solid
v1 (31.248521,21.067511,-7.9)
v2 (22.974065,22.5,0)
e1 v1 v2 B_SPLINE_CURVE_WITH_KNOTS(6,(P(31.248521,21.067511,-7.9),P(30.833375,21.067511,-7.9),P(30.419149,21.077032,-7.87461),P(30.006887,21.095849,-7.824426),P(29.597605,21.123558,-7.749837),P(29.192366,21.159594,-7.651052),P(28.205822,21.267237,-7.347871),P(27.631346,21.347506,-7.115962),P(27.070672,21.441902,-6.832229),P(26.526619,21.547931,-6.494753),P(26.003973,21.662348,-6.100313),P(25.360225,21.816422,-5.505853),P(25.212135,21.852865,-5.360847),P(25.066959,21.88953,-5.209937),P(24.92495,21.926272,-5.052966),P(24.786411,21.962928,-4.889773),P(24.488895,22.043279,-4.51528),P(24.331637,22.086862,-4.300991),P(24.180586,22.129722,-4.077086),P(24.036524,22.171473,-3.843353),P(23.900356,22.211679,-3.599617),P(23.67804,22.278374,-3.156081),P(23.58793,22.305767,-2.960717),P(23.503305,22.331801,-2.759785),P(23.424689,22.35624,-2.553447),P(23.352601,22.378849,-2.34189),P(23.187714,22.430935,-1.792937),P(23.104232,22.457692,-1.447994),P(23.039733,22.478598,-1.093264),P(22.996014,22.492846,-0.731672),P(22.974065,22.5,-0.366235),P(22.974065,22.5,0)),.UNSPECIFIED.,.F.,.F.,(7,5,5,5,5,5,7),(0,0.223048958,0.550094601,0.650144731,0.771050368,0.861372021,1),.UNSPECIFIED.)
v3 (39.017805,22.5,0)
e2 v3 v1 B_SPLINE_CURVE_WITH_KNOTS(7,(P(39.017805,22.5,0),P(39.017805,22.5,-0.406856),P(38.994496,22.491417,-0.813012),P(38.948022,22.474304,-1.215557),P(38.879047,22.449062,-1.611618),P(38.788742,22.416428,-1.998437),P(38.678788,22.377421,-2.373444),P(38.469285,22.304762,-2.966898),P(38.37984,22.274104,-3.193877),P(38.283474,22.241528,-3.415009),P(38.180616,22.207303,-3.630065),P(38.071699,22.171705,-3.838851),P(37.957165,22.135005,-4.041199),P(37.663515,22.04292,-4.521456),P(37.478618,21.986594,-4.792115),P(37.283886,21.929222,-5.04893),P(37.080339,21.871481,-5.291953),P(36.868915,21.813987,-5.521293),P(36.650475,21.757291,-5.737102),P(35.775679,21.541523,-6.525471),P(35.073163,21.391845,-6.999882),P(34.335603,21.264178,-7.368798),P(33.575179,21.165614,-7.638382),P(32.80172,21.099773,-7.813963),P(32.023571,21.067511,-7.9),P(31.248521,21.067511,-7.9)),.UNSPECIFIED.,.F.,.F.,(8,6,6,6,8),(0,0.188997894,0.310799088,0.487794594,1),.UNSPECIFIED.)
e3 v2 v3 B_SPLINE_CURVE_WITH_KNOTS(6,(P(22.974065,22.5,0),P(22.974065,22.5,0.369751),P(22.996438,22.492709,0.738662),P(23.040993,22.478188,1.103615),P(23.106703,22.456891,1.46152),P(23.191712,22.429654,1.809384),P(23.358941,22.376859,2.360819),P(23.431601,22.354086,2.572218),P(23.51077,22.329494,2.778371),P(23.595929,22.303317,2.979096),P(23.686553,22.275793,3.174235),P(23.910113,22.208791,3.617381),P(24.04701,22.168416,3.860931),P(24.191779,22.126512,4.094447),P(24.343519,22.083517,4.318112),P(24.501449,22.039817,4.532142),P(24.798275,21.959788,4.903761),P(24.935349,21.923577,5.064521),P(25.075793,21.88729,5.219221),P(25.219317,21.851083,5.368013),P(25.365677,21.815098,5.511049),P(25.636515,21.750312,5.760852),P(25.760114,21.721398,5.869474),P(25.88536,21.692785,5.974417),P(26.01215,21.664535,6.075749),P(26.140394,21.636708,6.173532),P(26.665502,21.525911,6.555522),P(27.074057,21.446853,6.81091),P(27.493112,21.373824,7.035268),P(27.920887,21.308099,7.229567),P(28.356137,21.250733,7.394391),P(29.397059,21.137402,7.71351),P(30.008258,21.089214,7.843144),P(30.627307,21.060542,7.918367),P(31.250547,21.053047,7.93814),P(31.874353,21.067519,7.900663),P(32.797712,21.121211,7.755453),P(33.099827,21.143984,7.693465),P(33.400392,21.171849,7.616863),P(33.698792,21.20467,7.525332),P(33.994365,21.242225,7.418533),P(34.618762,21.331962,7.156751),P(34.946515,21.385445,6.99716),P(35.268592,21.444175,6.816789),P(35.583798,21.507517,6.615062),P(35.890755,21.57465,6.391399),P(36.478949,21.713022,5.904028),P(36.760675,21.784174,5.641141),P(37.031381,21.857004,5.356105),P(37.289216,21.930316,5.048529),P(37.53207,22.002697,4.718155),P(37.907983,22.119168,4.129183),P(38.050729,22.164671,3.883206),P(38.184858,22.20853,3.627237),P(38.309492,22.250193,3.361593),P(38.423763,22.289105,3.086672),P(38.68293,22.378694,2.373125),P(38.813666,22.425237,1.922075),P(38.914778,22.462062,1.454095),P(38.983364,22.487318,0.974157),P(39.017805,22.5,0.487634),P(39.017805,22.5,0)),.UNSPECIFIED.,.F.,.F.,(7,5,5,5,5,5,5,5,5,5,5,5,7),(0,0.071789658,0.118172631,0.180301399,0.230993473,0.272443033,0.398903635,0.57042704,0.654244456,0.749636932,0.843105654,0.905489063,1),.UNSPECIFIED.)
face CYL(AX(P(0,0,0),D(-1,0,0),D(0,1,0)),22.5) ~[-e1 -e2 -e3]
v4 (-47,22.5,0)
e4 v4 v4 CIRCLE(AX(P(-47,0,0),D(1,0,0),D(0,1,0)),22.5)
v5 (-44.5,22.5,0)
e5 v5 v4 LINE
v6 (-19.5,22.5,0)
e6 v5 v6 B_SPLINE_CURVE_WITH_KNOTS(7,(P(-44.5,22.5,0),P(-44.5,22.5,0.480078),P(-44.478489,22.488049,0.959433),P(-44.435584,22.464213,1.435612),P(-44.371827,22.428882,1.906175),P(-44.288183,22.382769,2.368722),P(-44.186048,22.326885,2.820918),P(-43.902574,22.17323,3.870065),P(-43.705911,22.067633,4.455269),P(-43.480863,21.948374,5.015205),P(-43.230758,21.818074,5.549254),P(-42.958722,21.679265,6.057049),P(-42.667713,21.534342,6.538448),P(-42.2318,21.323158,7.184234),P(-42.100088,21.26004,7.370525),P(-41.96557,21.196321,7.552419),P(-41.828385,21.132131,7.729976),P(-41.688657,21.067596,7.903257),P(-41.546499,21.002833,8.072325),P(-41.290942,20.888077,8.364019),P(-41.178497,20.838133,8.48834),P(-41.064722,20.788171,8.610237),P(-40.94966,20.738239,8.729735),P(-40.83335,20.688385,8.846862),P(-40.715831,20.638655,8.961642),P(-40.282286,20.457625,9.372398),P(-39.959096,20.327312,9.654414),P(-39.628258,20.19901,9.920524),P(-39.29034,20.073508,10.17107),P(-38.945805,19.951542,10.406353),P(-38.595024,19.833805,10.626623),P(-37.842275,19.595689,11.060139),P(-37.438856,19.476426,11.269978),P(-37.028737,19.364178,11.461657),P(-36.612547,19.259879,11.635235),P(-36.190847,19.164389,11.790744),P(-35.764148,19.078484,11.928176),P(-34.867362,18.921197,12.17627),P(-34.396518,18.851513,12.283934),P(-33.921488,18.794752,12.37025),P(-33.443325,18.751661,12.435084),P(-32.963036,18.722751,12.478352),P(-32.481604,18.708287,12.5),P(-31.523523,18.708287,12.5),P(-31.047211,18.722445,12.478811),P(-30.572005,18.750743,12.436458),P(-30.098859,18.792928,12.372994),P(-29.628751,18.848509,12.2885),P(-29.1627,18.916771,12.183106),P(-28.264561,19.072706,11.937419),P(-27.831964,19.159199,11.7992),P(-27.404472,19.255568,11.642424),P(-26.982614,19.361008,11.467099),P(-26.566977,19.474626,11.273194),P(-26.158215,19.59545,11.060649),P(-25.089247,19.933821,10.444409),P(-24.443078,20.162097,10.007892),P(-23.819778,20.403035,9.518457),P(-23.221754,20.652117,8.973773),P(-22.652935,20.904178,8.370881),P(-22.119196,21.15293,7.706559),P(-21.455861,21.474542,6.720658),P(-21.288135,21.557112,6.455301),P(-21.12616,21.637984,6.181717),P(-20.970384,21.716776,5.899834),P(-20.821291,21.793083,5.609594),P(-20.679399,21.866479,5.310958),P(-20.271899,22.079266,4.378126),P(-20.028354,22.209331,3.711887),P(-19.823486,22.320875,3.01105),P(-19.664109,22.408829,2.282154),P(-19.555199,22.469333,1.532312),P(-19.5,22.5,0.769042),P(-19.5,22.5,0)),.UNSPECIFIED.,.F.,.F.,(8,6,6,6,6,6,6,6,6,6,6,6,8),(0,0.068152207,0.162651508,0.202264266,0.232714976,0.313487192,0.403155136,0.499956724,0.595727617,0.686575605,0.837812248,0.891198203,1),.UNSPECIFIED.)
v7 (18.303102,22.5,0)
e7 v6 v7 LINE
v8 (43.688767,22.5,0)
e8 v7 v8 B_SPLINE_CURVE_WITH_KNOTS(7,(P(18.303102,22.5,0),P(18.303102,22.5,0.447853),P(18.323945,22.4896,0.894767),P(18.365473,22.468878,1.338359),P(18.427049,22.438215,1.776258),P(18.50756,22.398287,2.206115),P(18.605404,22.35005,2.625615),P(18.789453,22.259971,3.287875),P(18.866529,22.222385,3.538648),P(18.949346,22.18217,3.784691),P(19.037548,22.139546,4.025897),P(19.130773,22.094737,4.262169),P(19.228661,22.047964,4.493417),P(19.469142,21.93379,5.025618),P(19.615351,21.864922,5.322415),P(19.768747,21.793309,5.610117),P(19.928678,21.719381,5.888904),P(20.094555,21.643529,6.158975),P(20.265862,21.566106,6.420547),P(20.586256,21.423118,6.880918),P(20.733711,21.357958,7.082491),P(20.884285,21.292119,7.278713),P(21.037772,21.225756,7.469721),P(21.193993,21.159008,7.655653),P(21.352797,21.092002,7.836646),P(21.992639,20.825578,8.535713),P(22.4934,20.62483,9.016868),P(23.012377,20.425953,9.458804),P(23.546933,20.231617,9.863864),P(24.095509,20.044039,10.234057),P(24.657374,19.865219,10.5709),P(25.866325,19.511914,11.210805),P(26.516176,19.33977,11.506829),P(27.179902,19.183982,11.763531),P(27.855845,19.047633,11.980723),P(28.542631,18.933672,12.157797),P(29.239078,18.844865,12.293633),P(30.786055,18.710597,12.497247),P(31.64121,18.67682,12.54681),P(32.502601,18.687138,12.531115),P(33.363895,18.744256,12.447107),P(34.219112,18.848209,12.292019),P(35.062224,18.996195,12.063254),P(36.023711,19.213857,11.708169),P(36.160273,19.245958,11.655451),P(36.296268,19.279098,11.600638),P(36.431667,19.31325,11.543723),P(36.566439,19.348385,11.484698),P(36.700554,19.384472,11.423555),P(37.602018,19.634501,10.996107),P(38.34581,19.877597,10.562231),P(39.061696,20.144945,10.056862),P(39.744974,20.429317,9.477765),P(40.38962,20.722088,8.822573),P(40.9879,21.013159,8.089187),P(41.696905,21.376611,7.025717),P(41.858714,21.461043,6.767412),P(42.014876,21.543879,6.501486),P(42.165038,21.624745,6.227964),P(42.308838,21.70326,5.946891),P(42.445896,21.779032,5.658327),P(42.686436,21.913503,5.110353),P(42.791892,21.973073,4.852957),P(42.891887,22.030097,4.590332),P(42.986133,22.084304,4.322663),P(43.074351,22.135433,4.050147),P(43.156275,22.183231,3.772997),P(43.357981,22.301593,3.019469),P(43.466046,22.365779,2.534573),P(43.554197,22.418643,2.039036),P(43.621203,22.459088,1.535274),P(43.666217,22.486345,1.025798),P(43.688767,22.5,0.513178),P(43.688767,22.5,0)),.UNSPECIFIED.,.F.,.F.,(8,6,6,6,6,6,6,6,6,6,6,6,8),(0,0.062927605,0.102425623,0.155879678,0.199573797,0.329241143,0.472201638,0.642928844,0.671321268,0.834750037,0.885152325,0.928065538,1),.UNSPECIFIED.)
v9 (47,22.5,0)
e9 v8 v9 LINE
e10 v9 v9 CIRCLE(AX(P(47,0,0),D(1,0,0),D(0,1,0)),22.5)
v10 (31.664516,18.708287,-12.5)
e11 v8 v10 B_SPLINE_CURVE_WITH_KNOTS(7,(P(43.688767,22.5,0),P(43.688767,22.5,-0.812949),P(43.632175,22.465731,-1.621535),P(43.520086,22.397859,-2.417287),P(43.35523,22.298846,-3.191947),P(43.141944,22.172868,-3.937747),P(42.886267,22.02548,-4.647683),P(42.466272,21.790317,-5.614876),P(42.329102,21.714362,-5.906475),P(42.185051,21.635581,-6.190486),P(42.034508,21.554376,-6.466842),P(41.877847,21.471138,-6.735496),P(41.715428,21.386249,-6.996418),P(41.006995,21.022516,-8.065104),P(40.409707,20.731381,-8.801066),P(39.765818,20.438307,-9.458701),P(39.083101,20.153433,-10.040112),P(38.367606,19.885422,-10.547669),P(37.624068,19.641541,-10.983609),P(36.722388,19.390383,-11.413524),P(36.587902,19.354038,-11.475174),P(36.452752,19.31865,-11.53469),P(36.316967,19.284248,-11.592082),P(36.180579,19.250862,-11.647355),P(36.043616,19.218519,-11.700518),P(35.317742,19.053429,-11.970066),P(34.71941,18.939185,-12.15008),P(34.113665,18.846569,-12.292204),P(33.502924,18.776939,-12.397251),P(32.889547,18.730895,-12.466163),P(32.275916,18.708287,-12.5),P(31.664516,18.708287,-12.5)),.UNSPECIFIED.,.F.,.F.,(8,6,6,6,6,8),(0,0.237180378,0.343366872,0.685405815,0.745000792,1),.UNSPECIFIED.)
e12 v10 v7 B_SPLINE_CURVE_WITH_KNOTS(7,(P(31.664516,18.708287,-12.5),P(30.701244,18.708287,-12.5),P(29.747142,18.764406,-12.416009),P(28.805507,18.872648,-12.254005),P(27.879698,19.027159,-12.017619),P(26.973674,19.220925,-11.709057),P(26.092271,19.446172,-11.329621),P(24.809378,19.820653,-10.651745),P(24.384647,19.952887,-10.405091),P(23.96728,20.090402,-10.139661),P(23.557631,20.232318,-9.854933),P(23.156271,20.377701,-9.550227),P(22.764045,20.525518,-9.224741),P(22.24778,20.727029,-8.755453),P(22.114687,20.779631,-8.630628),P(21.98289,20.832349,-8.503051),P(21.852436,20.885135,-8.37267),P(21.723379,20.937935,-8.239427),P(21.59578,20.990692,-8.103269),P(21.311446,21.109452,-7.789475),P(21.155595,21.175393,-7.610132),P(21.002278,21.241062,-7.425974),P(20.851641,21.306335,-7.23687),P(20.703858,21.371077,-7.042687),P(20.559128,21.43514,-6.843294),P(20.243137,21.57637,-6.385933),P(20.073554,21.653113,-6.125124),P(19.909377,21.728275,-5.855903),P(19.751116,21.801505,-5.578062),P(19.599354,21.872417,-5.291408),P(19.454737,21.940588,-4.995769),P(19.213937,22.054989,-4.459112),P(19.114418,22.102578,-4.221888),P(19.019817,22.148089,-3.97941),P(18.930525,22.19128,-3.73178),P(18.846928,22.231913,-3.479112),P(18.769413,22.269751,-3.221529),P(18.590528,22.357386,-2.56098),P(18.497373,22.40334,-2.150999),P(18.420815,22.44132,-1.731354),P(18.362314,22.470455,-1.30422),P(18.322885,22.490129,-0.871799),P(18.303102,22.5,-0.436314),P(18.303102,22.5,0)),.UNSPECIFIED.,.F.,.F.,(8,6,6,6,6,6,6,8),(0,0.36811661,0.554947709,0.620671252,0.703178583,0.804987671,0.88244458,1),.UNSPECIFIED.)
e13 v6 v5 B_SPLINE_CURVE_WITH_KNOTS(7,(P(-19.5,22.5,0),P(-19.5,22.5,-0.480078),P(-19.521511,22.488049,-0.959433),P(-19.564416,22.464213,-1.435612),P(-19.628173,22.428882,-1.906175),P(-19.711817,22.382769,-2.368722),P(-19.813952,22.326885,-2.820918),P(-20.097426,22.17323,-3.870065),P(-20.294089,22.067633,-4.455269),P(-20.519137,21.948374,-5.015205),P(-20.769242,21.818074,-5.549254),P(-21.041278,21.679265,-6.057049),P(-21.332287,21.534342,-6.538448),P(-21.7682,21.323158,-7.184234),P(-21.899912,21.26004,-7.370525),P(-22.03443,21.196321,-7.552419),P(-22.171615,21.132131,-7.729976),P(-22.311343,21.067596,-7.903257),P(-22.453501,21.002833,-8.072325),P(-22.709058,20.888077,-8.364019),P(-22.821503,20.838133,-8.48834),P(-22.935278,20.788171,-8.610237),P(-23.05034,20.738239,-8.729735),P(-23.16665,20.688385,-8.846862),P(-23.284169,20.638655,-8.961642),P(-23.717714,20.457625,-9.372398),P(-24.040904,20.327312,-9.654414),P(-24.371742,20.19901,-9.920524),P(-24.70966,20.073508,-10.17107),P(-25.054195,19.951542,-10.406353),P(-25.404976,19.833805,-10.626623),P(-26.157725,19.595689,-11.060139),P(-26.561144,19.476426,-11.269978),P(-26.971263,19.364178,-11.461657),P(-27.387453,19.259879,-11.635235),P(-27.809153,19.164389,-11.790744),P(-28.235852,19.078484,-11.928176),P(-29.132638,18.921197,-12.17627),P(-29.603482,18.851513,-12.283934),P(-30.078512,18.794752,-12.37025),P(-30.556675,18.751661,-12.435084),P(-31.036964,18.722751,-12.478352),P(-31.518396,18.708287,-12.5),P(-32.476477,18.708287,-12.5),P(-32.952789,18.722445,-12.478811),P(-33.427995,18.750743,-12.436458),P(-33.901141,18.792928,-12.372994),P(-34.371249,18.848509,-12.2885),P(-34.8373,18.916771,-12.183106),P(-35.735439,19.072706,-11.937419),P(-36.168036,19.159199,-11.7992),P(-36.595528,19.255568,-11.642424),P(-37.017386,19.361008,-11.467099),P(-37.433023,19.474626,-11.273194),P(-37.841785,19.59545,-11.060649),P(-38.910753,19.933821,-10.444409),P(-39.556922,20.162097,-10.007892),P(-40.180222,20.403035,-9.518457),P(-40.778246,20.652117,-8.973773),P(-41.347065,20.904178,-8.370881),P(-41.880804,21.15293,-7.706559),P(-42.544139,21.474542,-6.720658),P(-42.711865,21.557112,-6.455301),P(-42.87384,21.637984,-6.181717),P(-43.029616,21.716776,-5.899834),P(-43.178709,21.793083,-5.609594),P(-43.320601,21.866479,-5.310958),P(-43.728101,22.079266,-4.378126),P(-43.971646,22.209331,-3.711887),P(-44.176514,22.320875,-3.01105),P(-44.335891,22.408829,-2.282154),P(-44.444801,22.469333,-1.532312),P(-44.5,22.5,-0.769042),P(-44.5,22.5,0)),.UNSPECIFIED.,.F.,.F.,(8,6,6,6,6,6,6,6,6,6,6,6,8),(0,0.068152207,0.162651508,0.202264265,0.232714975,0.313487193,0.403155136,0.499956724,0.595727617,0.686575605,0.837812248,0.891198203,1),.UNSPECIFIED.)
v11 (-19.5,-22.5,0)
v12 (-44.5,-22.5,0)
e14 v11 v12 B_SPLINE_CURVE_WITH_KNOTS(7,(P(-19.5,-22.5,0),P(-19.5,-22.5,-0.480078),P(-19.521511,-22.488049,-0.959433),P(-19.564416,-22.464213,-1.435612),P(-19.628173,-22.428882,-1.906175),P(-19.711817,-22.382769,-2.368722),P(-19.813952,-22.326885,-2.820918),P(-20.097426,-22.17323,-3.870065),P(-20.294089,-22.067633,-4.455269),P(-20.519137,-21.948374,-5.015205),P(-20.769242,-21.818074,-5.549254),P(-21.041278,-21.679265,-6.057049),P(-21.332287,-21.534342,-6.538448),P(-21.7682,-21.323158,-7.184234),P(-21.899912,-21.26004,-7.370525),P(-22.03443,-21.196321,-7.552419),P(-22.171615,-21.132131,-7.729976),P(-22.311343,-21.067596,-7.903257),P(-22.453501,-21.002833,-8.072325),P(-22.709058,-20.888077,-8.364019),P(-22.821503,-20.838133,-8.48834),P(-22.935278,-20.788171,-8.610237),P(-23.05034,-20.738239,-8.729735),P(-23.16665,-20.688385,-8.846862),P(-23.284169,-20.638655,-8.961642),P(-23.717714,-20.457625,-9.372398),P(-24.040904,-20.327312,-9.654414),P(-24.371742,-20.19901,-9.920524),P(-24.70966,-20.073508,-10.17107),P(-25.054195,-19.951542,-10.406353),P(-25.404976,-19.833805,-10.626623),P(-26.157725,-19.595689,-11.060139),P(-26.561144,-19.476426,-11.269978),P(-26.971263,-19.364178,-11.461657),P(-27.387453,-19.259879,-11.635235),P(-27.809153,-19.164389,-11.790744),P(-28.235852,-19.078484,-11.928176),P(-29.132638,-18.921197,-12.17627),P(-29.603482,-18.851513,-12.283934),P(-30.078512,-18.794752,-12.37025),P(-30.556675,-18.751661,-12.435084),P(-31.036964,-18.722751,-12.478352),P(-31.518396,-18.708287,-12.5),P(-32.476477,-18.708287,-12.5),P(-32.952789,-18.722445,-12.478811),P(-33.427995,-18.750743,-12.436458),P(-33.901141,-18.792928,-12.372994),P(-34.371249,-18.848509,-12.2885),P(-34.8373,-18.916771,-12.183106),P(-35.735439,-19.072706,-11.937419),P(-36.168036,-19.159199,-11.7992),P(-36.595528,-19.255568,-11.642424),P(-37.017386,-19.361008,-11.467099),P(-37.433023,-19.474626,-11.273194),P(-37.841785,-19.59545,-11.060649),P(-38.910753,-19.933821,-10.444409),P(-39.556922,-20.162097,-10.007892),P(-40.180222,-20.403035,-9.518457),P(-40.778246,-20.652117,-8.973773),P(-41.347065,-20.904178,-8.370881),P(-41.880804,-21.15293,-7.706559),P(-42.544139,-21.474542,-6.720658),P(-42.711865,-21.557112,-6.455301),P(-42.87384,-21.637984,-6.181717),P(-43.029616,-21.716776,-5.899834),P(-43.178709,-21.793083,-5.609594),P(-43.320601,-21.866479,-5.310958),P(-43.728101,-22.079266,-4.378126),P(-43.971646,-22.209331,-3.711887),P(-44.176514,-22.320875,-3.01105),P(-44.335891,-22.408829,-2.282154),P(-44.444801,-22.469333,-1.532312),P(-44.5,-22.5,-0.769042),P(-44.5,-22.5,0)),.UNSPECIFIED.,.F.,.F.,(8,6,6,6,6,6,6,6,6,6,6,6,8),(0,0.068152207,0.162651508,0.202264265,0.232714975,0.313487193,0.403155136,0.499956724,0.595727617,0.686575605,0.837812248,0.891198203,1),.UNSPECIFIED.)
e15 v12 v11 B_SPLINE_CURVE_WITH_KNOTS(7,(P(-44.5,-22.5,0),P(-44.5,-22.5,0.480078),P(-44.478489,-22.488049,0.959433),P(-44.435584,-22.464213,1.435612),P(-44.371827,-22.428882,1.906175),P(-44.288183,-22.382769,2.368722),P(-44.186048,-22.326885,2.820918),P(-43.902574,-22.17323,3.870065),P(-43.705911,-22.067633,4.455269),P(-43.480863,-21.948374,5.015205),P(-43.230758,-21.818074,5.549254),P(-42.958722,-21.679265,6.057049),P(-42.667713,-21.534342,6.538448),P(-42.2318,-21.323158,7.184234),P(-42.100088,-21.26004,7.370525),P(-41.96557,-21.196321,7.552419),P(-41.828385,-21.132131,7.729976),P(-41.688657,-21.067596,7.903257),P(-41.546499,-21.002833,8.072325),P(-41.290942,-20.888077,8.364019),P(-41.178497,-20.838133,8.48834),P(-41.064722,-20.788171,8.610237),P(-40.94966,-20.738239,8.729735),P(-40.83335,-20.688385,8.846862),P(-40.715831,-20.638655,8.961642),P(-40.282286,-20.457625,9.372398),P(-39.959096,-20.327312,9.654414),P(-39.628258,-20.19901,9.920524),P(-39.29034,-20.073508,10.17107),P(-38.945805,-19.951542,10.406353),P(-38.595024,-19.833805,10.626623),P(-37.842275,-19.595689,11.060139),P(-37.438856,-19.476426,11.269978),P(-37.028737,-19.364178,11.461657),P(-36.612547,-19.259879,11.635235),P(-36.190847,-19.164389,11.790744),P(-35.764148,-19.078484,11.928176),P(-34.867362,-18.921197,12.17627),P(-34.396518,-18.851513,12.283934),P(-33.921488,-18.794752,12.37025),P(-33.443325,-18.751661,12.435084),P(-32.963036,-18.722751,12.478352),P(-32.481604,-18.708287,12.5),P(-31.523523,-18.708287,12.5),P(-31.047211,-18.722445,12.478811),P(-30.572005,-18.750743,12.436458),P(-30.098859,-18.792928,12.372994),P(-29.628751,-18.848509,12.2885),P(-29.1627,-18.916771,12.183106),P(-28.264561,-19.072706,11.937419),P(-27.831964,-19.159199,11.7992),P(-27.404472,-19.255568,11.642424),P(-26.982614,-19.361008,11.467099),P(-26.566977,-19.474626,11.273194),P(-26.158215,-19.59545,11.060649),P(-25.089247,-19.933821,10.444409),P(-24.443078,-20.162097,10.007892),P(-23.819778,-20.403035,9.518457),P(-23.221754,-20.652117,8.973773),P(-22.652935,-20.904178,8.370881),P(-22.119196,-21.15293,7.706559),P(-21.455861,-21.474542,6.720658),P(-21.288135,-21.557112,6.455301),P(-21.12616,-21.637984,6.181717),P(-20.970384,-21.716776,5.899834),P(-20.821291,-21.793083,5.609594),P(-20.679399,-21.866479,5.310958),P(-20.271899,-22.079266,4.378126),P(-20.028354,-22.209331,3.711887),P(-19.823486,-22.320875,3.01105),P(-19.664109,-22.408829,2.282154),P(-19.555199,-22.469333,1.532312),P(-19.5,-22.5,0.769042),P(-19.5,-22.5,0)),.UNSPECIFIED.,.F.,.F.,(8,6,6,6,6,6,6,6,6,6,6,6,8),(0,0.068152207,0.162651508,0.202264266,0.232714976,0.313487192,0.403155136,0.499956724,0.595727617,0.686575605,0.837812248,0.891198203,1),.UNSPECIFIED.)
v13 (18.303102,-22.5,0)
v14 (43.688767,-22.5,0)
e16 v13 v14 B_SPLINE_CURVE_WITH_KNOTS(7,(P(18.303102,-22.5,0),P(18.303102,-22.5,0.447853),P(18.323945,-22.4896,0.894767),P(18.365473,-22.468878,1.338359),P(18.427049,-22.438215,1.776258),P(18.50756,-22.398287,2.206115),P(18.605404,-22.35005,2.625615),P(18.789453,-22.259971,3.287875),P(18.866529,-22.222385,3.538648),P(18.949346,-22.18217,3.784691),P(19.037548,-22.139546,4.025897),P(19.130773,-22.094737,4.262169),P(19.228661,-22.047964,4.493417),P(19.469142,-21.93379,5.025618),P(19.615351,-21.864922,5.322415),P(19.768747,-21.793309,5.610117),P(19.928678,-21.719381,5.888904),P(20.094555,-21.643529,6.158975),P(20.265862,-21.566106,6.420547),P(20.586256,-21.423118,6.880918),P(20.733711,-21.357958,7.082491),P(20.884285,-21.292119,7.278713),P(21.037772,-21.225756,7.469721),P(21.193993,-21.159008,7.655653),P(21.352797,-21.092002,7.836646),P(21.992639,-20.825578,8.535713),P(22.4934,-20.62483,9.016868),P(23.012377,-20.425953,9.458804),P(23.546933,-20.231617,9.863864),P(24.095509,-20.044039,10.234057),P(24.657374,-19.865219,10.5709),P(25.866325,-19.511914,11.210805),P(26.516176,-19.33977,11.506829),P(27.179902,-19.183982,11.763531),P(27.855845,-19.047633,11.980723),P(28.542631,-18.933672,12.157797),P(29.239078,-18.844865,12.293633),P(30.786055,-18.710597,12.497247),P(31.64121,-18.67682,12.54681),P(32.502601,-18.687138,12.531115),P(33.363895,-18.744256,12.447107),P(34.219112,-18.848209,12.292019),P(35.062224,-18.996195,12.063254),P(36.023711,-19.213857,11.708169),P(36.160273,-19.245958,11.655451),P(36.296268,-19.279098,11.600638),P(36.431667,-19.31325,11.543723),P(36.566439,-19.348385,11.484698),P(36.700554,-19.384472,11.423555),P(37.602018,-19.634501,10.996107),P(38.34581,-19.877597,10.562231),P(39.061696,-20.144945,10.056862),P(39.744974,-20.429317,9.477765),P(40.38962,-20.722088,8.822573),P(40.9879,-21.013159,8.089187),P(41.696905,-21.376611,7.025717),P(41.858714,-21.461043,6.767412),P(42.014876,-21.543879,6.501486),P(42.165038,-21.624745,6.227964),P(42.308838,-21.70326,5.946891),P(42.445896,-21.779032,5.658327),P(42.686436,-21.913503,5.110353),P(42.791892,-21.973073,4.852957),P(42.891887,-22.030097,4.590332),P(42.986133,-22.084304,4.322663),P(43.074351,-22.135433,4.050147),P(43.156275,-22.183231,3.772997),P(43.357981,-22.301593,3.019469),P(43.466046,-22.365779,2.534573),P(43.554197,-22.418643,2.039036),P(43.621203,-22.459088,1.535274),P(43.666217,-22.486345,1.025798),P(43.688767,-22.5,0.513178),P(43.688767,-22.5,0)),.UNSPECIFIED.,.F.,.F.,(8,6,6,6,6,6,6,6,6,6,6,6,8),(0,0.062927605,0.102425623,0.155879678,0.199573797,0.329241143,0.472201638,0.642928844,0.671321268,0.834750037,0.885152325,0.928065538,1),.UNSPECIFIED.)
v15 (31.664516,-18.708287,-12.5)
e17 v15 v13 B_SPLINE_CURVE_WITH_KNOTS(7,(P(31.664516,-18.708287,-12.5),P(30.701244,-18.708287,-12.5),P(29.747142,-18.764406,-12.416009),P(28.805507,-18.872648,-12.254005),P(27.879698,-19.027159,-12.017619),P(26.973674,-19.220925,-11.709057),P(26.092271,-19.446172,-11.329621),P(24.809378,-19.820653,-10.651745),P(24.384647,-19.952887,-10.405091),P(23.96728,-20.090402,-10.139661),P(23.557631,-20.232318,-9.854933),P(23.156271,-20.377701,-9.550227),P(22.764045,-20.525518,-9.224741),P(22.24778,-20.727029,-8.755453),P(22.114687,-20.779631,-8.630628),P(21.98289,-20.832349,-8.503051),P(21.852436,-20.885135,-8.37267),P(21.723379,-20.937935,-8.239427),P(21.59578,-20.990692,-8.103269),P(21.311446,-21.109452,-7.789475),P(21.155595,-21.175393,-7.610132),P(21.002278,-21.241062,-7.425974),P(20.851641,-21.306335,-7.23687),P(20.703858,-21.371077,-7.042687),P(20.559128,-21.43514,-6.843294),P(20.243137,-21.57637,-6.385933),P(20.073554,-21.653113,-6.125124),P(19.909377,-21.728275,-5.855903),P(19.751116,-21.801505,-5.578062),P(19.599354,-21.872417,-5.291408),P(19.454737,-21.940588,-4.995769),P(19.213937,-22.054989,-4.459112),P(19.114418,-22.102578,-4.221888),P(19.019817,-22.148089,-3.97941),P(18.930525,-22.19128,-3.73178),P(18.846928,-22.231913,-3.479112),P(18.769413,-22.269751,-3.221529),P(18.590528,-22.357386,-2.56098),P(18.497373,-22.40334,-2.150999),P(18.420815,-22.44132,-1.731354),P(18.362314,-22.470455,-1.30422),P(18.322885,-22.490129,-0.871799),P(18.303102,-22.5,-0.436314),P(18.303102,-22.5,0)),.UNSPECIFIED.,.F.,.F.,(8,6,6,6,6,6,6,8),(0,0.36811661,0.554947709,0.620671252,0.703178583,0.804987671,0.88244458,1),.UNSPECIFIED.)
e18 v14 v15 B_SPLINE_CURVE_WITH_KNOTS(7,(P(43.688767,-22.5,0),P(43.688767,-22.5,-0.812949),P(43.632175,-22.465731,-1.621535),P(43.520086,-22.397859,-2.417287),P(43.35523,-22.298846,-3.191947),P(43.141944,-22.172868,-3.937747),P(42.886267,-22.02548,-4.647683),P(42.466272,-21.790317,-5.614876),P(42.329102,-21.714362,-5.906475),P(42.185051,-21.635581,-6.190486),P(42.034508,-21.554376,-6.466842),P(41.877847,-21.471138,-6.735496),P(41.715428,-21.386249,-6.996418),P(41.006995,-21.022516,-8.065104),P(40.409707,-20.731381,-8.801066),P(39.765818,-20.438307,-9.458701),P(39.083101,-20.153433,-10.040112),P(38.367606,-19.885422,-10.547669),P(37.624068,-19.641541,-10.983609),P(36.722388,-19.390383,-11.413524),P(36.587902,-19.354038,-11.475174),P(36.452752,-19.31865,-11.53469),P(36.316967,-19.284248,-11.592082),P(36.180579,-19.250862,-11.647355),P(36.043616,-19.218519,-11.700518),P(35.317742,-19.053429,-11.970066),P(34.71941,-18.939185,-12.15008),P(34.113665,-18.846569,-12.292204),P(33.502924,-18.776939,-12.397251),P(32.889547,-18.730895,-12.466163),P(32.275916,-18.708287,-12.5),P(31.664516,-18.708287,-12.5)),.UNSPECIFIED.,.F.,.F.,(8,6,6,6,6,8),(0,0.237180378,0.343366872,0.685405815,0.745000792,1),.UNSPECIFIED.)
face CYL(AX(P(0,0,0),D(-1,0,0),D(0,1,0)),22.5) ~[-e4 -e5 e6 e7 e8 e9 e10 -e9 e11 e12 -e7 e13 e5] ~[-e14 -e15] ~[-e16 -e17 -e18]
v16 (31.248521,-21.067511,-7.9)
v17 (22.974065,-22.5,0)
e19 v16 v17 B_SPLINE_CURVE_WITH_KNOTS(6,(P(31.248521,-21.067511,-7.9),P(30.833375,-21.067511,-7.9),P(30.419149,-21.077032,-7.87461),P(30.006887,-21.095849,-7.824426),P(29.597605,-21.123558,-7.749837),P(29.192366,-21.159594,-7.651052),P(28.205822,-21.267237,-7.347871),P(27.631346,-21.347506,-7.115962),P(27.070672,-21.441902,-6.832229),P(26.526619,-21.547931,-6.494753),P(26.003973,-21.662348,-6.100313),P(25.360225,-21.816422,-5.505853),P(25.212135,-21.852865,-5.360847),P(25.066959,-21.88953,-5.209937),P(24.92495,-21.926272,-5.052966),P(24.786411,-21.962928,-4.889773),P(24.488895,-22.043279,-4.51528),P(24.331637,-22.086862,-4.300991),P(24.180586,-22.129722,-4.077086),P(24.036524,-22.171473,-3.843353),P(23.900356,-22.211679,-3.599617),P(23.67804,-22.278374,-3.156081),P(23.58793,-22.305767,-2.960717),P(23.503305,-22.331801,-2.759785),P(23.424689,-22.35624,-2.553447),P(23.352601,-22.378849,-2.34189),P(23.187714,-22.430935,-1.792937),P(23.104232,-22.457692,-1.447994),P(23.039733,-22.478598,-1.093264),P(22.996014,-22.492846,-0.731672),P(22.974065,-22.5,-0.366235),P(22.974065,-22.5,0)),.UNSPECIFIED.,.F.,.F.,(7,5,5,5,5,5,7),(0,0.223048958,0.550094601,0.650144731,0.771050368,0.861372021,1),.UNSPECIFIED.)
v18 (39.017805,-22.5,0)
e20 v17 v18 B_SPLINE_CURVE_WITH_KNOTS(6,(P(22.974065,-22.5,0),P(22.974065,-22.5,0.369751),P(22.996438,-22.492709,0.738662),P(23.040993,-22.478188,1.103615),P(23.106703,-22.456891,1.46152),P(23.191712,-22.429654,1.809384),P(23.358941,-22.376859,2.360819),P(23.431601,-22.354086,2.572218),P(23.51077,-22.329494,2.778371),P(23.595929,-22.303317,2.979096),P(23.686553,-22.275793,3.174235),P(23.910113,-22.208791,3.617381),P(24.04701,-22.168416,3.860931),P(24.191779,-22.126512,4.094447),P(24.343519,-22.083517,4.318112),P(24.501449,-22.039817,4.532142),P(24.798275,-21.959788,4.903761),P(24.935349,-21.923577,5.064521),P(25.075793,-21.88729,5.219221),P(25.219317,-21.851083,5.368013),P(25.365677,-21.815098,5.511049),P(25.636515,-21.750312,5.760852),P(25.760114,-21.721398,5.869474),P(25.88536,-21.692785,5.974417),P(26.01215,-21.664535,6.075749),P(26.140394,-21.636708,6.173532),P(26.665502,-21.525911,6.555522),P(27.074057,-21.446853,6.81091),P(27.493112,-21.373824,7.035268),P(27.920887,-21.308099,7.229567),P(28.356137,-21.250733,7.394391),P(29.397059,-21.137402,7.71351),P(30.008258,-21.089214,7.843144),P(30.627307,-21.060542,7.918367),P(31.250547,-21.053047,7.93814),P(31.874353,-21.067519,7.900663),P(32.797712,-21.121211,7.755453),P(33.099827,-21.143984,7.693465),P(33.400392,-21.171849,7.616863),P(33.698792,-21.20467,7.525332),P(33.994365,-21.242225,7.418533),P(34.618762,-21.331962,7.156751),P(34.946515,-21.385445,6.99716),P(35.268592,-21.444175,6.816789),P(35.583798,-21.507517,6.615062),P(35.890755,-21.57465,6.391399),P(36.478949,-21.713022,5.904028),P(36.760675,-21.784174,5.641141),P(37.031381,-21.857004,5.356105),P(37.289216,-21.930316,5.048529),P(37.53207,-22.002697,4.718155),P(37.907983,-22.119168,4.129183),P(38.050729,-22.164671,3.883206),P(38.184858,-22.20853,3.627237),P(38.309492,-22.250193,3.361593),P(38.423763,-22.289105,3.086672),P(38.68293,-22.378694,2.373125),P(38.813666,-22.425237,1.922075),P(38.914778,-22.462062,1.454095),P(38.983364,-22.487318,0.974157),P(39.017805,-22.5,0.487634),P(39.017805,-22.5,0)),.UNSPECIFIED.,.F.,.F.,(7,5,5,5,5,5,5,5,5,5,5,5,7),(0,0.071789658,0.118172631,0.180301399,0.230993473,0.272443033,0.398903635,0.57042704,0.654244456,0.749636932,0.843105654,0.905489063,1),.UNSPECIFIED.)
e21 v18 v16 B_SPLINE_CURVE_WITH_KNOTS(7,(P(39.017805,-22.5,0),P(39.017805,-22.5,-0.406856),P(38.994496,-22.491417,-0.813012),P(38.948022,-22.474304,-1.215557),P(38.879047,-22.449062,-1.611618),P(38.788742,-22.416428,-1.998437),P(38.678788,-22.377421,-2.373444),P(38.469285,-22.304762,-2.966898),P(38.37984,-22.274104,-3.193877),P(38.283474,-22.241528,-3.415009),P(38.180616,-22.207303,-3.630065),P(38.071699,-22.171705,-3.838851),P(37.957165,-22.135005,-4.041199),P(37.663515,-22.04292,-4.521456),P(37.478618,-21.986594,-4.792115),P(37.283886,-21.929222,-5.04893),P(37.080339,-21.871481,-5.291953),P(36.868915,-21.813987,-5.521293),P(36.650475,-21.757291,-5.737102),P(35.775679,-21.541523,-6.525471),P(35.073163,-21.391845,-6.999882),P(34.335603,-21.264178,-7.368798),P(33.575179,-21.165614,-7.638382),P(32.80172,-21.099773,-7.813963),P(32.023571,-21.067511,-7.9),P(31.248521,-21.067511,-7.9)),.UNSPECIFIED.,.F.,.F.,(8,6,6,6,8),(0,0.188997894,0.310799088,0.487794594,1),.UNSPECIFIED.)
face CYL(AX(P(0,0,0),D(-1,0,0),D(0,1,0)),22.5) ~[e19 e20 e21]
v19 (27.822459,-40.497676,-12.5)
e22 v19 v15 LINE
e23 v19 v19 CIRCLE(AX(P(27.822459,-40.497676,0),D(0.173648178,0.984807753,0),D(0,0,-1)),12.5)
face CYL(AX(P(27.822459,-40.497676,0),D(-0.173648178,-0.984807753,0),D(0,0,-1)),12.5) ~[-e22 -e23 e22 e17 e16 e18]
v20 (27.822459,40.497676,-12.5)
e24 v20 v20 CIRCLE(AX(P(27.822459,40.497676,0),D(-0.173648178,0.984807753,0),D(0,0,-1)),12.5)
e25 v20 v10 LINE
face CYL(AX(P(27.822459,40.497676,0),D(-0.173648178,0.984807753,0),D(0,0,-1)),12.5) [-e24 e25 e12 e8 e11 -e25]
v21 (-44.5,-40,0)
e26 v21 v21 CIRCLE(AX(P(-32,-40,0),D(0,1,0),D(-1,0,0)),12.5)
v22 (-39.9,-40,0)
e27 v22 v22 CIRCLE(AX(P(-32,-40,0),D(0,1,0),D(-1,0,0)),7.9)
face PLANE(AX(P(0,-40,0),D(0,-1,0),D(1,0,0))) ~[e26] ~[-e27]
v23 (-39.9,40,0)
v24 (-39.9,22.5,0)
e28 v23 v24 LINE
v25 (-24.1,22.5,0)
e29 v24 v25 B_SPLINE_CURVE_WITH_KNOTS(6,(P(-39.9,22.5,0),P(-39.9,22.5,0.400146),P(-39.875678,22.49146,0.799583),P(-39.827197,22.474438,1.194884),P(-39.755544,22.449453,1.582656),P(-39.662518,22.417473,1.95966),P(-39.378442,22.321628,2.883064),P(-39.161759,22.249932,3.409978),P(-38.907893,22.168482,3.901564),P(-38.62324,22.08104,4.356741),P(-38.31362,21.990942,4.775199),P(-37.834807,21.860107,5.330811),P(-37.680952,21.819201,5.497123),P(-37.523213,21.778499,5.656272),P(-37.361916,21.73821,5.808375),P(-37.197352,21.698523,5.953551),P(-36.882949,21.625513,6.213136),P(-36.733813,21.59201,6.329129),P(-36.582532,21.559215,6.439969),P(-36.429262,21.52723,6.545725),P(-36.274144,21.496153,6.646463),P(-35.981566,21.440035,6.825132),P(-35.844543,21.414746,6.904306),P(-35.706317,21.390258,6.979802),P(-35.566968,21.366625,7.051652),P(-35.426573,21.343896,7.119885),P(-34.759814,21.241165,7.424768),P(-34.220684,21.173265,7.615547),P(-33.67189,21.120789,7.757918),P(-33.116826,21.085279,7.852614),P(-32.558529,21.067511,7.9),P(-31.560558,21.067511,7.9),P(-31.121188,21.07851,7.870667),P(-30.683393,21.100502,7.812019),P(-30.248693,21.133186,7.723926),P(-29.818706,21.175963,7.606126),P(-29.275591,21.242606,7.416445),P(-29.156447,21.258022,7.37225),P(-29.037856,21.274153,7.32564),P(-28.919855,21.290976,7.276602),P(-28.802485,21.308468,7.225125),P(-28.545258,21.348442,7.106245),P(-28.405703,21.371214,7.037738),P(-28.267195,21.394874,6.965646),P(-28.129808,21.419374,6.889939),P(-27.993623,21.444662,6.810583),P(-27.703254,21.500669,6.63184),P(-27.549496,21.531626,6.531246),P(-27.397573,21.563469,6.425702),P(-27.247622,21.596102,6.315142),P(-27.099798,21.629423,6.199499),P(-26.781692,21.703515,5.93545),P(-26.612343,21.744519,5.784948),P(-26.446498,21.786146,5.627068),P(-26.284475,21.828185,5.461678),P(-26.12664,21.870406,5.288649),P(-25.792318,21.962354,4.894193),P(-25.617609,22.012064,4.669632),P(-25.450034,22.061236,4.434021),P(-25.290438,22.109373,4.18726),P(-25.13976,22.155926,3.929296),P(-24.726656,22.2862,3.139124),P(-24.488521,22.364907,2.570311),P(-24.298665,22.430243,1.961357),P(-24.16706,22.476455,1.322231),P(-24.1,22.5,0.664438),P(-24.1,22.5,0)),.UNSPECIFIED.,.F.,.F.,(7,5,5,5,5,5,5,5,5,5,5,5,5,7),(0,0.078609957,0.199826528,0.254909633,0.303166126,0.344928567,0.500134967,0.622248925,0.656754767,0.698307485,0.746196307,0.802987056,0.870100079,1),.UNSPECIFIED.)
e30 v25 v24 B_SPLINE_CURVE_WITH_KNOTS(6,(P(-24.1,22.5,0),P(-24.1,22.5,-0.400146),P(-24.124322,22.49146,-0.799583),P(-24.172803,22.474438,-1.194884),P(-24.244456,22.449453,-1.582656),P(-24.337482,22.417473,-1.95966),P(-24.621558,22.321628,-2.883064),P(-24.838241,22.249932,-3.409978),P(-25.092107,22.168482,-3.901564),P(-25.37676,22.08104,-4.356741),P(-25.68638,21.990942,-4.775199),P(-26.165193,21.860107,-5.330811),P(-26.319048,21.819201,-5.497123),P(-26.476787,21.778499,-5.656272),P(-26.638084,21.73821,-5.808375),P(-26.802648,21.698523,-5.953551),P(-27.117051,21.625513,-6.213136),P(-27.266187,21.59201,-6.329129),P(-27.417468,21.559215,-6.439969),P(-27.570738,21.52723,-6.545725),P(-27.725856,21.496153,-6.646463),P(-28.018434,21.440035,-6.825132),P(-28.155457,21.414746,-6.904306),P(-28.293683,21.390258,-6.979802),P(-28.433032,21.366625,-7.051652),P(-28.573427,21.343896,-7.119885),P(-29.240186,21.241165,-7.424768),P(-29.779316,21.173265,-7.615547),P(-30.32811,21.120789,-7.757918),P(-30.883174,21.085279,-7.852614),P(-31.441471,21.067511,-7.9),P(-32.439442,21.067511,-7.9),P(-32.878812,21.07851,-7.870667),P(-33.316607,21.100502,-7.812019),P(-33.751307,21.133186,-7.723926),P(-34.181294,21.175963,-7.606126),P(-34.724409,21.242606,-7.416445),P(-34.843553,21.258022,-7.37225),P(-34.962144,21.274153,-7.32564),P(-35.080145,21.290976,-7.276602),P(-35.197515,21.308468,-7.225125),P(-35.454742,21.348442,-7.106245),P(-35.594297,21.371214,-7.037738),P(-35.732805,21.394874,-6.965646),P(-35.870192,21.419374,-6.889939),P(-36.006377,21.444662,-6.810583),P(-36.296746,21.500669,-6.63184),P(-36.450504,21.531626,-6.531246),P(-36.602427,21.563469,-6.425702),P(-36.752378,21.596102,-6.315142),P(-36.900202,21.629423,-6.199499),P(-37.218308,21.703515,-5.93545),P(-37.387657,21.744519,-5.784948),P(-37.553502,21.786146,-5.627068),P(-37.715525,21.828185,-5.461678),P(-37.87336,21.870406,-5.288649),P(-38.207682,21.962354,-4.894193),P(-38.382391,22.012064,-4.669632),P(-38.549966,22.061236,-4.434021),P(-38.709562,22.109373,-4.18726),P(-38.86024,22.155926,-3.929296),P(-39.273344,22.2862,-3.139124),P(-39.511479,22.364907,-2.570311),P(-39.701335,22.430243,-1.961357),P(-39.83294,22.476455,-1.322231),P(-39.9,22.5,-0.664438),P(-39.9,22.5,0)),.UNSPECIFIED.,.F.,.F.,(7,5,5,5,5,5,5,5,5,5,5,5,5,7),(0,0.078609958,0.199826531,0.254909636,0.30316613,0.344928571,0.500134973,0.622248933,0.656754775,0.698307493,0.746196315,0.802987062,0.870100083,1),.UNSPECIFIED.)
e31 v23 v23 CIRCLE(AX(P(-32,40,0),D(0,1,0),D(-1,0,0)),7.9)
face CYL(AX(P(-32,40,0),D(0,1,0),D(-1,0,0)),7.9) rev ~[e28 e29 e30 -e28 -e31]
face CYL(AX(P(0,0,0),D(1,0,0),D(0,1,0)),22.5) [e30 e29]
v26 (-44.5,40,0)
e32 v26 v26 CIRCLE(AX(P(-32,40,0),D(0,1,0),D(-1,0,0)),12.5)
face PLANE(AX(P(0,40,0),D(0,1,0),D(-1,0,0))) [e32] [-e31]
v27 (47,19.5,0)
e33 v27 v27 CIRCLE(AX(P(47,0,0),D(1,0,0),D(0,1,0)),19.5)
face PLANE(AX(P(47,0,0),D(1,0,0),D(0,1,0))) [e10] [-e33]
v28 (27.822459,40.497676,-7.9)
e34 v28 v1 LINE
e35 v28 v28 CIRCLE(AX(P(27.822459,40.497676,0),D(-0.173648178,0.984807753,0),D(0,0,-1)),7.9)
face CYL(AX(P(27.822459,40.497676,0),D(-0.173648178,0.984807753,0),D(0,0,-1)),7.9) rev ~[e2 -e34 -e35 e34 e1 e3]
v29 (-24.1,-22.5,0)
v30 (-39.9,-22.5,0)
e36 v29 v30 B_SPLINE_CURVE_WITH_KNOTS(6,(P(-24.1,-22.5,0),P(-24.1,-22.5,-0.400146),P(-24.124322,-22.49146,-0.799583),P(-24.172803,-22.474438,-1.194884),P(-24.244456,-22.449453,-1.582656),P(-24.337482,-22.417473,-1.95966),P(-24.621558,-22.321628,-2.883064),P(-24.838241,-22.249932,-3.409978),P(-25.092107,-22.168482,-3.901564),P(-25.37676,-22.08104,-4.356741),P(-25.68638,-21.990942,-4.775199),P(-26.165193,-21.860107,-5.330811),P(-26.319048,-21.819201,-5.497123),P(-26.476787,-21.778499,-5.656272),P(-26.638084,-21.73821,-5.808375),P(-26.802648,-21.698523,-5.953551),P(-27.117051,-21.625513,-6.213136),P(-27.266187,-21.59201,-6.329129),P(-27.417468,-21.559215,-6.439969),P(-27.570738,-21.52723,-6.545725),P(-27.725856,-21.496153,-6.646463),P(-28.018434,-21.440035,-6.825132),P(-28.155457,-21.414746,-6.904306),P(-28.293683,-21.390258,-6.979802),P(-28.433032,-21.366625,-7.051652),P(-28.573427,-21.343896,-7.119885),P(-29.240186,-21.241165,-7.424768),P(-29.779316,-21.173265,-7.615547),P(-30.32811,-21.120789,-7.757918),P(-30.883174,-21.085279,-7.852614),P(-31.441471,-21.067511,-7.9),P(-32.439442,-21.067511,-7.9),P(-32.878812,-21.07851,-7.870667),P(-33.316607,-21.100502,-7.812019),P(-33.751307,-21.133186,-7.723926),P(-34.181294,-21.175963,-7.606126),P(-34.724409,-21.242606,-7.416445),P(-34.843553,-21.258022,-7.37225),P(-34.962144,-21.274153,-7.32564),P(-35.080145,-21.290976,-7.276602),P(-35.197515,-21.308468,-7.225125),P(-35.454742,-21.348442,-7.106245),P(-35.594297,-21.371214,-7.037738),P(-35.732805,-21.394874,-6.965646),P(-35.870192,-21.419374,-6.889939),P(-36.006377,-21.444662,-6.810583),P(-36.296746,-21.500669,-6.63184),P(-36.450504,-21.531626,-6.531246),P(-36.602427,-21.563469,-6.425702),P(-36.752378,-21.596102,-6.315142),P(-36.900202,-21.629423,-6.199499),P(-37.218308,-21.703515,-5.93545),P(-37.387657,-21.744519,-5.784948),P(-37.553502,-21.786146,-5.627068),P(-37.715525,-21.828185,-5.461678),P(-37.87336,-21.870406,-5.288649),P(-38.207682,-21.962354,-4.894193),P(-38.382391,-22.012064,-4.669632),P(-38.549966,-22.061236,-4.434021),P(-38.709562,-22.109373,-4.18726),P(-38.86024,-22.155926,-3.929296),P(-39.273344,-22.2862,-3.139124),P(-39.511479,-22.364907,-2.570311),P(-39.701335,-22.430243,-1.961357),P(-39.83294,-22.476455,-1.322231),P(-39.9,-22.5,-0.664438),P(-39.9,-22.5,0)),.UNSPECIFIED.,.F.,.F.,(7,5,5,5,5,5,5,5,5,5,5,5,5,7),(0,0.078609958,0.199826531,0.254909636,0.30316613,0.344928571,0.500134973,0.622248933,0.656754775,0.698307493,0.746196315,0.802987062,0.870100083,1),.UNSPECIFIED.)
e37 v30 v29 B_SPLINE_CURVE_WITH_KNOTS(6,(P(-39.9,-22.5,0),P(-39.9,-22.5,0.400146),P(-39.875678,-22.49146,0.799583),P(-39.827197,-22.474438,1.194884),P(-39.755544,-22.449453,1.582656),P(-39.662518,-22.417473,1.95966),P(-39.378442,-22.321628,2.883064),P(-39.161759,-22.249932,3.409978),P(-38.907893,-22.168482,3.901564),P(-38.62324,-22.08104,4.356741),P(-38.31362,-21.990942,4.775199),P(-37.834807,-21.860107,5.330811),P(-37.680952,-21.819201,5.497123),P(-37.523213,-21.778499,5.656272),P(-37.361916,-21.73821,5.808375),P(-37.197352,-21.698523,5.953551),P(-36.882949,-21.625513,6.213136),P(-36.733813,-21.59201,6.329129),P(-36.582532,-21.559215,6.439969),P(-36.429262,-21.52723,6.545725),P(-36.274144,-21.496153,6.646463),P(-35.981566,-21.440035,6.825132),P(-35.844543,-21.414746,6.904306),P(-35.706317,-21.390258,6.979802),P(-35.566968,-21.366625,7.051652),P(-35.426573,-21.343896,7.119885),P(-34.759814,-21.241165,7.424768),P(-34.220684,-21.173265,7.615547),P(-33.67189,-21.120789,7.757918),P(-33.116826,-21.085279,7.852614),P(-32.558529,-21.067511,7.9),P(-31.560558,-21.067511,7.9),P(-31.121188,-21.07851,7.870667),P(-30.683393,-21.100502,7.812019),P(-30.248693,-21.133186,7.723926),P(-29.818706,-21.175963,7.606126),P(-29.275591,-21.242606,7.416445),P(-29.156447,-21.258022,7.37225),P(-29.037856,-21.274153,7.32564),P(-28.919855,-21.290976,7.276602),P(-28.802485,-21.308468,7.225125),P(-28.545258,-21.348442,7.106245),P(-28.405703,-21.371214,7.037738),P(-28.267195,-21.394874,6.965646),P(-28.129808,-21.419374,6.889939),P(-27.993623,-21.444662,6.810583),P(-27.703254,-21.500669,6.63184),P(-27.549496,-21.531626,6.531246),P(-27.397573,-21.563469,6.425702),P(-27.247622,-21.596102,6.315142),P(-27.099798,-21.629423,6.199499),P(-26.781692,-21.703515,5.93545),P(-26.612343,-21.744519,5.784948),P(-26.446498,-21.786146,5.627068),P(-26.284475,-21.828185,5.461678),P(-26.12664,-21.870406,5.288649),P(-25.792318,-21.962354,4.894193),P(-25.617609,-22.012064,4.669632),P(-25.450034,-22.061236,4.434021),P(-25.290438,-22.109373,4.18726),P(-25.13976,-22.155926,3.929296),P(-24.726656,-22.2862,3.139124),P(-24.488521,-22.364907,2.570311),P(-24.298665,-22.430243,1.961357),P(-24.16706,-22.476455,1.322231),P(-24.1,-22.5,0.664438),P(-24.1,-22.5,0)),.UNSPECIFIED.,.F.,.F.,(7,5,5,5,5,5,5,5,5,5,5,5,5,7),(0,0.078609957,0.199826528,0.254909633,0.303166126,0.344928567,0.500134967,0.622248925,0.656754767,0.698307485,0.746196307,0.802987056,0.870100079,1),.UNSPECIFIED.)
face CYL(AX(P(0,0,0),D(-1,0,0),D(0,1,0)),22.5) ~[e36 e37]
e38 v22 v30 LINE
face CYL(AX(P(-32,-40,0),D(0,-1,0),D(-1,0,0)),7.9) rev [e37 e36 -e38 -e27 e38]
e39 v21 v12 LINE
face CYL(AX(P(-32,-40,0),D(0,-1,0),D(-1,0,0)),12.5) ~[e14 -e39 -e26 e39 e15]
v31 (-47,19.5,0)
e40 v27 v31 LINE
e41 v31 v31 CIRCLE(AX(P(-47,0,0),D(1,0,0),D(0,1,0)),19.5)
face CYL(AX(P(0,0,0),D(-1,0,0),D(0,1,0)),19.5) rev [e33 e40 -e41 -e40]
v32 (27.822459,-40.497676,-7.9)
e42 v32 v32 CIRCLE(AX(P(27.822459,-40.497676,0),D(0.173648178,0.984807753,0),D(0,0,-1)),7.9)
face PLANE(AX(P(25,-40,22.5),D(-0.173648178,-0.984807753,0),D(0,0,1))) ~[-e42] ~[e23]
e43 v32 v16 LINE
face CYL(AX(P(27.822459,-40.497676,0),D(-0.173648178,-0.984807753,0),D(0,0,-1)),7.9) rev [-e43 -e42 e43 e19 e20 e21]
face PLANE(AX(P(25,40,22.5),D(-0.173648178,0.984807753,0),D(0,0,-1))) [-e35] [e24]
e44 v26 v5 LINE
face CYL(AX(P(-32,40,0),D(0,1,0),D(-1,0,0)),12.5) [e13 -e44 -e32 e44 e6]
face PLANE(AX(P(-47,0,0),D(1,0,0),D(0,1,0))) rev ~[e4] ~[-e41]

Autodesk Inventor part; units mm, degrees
ref_plane "YZ Plane" through (0, 0, 0) normal (1, 0, 0) x (0, 1, 0)
sketch "Sketch1" plane through (0, 0, 0) normal (1, 0, 0) x (0, 1, 0)
  circle A0 centre (0, 0) radius 19.5
  circle A1 centre (0, 0) radius 22.5
  dimension "d0" = 39
  dimension "d1" = 45
extrude "Extrusion1" add sketch "Sketch1" along normal mid plane 94
ref_plane "Work Plane1" through (0, 40, 0) normal (0, 1, 0) x (-1, 0, 0)
sketch "Sketch2" plane through (0, 40, 0) normal (0, 1, 0) x (-1, 0, 0)
  circle A0 centre (32, 0) radius 12.5
  circle A1 centre (32, 0) radius 7.9
  line L0 (47, -22.5) -> (47, 22.5) projected
  point P0 (0, 0)
  dimension "d6" = 25
  dimension "d7" = 15.8
  dimension "d19" = 15
extrude "Extrusion2" add sketch "Sketch2" against normal up to surface
sketch "Sketch3" plane through (0, 40, 0) normal (0, 1, 0) x (-1, 0, 0)
  line L0 (47, 22.5) -> (-47, 22.5) projected
  line L1 (-25, 22.5) -> (-25, -21.8926)
  line L2 (47, 22.5) -> (-47, 22.5) projected
  point P0 (0, 0)
  dimension "d16" = 25
ref_plane "Work Plane3" through (25, 40, 22.5) normal (-0.1736, 0.9848, 0) x (0, 0, -1)
sketch "Sketch4" plane through (25, 40, 22.5) normal (-0.1736, 0.9848, 0) x (0, 0, -1)
  ellipse E0 centre (22.5, 56.134) end of major axis (14.6, 56.134) minor radius 7.78 projected
  circle A0 centre (22.5, -2.866) radius 7.9
  circle A1 centre (22.5, -2.866) radius 12.5
  ellipse E1 centre (22.5, 56.134) end of major axis (10, 56.134) minor radius 12.3101 projected
  point P0 (22.5, 31.5661)
  dimension "d11" = 59
  dimension "d12" = 15.8
  dimension "d13" = 25
extrude "Extrusion3" add sketch "Sketch4" against normal up to surface contours A1
mirror "Mirror1" about plane through (0, 0, 0) normal (0, 1, 0) of "Extrusion2", "Extrusion3"
properties part number "JuntaRodilla" material "PLA"
